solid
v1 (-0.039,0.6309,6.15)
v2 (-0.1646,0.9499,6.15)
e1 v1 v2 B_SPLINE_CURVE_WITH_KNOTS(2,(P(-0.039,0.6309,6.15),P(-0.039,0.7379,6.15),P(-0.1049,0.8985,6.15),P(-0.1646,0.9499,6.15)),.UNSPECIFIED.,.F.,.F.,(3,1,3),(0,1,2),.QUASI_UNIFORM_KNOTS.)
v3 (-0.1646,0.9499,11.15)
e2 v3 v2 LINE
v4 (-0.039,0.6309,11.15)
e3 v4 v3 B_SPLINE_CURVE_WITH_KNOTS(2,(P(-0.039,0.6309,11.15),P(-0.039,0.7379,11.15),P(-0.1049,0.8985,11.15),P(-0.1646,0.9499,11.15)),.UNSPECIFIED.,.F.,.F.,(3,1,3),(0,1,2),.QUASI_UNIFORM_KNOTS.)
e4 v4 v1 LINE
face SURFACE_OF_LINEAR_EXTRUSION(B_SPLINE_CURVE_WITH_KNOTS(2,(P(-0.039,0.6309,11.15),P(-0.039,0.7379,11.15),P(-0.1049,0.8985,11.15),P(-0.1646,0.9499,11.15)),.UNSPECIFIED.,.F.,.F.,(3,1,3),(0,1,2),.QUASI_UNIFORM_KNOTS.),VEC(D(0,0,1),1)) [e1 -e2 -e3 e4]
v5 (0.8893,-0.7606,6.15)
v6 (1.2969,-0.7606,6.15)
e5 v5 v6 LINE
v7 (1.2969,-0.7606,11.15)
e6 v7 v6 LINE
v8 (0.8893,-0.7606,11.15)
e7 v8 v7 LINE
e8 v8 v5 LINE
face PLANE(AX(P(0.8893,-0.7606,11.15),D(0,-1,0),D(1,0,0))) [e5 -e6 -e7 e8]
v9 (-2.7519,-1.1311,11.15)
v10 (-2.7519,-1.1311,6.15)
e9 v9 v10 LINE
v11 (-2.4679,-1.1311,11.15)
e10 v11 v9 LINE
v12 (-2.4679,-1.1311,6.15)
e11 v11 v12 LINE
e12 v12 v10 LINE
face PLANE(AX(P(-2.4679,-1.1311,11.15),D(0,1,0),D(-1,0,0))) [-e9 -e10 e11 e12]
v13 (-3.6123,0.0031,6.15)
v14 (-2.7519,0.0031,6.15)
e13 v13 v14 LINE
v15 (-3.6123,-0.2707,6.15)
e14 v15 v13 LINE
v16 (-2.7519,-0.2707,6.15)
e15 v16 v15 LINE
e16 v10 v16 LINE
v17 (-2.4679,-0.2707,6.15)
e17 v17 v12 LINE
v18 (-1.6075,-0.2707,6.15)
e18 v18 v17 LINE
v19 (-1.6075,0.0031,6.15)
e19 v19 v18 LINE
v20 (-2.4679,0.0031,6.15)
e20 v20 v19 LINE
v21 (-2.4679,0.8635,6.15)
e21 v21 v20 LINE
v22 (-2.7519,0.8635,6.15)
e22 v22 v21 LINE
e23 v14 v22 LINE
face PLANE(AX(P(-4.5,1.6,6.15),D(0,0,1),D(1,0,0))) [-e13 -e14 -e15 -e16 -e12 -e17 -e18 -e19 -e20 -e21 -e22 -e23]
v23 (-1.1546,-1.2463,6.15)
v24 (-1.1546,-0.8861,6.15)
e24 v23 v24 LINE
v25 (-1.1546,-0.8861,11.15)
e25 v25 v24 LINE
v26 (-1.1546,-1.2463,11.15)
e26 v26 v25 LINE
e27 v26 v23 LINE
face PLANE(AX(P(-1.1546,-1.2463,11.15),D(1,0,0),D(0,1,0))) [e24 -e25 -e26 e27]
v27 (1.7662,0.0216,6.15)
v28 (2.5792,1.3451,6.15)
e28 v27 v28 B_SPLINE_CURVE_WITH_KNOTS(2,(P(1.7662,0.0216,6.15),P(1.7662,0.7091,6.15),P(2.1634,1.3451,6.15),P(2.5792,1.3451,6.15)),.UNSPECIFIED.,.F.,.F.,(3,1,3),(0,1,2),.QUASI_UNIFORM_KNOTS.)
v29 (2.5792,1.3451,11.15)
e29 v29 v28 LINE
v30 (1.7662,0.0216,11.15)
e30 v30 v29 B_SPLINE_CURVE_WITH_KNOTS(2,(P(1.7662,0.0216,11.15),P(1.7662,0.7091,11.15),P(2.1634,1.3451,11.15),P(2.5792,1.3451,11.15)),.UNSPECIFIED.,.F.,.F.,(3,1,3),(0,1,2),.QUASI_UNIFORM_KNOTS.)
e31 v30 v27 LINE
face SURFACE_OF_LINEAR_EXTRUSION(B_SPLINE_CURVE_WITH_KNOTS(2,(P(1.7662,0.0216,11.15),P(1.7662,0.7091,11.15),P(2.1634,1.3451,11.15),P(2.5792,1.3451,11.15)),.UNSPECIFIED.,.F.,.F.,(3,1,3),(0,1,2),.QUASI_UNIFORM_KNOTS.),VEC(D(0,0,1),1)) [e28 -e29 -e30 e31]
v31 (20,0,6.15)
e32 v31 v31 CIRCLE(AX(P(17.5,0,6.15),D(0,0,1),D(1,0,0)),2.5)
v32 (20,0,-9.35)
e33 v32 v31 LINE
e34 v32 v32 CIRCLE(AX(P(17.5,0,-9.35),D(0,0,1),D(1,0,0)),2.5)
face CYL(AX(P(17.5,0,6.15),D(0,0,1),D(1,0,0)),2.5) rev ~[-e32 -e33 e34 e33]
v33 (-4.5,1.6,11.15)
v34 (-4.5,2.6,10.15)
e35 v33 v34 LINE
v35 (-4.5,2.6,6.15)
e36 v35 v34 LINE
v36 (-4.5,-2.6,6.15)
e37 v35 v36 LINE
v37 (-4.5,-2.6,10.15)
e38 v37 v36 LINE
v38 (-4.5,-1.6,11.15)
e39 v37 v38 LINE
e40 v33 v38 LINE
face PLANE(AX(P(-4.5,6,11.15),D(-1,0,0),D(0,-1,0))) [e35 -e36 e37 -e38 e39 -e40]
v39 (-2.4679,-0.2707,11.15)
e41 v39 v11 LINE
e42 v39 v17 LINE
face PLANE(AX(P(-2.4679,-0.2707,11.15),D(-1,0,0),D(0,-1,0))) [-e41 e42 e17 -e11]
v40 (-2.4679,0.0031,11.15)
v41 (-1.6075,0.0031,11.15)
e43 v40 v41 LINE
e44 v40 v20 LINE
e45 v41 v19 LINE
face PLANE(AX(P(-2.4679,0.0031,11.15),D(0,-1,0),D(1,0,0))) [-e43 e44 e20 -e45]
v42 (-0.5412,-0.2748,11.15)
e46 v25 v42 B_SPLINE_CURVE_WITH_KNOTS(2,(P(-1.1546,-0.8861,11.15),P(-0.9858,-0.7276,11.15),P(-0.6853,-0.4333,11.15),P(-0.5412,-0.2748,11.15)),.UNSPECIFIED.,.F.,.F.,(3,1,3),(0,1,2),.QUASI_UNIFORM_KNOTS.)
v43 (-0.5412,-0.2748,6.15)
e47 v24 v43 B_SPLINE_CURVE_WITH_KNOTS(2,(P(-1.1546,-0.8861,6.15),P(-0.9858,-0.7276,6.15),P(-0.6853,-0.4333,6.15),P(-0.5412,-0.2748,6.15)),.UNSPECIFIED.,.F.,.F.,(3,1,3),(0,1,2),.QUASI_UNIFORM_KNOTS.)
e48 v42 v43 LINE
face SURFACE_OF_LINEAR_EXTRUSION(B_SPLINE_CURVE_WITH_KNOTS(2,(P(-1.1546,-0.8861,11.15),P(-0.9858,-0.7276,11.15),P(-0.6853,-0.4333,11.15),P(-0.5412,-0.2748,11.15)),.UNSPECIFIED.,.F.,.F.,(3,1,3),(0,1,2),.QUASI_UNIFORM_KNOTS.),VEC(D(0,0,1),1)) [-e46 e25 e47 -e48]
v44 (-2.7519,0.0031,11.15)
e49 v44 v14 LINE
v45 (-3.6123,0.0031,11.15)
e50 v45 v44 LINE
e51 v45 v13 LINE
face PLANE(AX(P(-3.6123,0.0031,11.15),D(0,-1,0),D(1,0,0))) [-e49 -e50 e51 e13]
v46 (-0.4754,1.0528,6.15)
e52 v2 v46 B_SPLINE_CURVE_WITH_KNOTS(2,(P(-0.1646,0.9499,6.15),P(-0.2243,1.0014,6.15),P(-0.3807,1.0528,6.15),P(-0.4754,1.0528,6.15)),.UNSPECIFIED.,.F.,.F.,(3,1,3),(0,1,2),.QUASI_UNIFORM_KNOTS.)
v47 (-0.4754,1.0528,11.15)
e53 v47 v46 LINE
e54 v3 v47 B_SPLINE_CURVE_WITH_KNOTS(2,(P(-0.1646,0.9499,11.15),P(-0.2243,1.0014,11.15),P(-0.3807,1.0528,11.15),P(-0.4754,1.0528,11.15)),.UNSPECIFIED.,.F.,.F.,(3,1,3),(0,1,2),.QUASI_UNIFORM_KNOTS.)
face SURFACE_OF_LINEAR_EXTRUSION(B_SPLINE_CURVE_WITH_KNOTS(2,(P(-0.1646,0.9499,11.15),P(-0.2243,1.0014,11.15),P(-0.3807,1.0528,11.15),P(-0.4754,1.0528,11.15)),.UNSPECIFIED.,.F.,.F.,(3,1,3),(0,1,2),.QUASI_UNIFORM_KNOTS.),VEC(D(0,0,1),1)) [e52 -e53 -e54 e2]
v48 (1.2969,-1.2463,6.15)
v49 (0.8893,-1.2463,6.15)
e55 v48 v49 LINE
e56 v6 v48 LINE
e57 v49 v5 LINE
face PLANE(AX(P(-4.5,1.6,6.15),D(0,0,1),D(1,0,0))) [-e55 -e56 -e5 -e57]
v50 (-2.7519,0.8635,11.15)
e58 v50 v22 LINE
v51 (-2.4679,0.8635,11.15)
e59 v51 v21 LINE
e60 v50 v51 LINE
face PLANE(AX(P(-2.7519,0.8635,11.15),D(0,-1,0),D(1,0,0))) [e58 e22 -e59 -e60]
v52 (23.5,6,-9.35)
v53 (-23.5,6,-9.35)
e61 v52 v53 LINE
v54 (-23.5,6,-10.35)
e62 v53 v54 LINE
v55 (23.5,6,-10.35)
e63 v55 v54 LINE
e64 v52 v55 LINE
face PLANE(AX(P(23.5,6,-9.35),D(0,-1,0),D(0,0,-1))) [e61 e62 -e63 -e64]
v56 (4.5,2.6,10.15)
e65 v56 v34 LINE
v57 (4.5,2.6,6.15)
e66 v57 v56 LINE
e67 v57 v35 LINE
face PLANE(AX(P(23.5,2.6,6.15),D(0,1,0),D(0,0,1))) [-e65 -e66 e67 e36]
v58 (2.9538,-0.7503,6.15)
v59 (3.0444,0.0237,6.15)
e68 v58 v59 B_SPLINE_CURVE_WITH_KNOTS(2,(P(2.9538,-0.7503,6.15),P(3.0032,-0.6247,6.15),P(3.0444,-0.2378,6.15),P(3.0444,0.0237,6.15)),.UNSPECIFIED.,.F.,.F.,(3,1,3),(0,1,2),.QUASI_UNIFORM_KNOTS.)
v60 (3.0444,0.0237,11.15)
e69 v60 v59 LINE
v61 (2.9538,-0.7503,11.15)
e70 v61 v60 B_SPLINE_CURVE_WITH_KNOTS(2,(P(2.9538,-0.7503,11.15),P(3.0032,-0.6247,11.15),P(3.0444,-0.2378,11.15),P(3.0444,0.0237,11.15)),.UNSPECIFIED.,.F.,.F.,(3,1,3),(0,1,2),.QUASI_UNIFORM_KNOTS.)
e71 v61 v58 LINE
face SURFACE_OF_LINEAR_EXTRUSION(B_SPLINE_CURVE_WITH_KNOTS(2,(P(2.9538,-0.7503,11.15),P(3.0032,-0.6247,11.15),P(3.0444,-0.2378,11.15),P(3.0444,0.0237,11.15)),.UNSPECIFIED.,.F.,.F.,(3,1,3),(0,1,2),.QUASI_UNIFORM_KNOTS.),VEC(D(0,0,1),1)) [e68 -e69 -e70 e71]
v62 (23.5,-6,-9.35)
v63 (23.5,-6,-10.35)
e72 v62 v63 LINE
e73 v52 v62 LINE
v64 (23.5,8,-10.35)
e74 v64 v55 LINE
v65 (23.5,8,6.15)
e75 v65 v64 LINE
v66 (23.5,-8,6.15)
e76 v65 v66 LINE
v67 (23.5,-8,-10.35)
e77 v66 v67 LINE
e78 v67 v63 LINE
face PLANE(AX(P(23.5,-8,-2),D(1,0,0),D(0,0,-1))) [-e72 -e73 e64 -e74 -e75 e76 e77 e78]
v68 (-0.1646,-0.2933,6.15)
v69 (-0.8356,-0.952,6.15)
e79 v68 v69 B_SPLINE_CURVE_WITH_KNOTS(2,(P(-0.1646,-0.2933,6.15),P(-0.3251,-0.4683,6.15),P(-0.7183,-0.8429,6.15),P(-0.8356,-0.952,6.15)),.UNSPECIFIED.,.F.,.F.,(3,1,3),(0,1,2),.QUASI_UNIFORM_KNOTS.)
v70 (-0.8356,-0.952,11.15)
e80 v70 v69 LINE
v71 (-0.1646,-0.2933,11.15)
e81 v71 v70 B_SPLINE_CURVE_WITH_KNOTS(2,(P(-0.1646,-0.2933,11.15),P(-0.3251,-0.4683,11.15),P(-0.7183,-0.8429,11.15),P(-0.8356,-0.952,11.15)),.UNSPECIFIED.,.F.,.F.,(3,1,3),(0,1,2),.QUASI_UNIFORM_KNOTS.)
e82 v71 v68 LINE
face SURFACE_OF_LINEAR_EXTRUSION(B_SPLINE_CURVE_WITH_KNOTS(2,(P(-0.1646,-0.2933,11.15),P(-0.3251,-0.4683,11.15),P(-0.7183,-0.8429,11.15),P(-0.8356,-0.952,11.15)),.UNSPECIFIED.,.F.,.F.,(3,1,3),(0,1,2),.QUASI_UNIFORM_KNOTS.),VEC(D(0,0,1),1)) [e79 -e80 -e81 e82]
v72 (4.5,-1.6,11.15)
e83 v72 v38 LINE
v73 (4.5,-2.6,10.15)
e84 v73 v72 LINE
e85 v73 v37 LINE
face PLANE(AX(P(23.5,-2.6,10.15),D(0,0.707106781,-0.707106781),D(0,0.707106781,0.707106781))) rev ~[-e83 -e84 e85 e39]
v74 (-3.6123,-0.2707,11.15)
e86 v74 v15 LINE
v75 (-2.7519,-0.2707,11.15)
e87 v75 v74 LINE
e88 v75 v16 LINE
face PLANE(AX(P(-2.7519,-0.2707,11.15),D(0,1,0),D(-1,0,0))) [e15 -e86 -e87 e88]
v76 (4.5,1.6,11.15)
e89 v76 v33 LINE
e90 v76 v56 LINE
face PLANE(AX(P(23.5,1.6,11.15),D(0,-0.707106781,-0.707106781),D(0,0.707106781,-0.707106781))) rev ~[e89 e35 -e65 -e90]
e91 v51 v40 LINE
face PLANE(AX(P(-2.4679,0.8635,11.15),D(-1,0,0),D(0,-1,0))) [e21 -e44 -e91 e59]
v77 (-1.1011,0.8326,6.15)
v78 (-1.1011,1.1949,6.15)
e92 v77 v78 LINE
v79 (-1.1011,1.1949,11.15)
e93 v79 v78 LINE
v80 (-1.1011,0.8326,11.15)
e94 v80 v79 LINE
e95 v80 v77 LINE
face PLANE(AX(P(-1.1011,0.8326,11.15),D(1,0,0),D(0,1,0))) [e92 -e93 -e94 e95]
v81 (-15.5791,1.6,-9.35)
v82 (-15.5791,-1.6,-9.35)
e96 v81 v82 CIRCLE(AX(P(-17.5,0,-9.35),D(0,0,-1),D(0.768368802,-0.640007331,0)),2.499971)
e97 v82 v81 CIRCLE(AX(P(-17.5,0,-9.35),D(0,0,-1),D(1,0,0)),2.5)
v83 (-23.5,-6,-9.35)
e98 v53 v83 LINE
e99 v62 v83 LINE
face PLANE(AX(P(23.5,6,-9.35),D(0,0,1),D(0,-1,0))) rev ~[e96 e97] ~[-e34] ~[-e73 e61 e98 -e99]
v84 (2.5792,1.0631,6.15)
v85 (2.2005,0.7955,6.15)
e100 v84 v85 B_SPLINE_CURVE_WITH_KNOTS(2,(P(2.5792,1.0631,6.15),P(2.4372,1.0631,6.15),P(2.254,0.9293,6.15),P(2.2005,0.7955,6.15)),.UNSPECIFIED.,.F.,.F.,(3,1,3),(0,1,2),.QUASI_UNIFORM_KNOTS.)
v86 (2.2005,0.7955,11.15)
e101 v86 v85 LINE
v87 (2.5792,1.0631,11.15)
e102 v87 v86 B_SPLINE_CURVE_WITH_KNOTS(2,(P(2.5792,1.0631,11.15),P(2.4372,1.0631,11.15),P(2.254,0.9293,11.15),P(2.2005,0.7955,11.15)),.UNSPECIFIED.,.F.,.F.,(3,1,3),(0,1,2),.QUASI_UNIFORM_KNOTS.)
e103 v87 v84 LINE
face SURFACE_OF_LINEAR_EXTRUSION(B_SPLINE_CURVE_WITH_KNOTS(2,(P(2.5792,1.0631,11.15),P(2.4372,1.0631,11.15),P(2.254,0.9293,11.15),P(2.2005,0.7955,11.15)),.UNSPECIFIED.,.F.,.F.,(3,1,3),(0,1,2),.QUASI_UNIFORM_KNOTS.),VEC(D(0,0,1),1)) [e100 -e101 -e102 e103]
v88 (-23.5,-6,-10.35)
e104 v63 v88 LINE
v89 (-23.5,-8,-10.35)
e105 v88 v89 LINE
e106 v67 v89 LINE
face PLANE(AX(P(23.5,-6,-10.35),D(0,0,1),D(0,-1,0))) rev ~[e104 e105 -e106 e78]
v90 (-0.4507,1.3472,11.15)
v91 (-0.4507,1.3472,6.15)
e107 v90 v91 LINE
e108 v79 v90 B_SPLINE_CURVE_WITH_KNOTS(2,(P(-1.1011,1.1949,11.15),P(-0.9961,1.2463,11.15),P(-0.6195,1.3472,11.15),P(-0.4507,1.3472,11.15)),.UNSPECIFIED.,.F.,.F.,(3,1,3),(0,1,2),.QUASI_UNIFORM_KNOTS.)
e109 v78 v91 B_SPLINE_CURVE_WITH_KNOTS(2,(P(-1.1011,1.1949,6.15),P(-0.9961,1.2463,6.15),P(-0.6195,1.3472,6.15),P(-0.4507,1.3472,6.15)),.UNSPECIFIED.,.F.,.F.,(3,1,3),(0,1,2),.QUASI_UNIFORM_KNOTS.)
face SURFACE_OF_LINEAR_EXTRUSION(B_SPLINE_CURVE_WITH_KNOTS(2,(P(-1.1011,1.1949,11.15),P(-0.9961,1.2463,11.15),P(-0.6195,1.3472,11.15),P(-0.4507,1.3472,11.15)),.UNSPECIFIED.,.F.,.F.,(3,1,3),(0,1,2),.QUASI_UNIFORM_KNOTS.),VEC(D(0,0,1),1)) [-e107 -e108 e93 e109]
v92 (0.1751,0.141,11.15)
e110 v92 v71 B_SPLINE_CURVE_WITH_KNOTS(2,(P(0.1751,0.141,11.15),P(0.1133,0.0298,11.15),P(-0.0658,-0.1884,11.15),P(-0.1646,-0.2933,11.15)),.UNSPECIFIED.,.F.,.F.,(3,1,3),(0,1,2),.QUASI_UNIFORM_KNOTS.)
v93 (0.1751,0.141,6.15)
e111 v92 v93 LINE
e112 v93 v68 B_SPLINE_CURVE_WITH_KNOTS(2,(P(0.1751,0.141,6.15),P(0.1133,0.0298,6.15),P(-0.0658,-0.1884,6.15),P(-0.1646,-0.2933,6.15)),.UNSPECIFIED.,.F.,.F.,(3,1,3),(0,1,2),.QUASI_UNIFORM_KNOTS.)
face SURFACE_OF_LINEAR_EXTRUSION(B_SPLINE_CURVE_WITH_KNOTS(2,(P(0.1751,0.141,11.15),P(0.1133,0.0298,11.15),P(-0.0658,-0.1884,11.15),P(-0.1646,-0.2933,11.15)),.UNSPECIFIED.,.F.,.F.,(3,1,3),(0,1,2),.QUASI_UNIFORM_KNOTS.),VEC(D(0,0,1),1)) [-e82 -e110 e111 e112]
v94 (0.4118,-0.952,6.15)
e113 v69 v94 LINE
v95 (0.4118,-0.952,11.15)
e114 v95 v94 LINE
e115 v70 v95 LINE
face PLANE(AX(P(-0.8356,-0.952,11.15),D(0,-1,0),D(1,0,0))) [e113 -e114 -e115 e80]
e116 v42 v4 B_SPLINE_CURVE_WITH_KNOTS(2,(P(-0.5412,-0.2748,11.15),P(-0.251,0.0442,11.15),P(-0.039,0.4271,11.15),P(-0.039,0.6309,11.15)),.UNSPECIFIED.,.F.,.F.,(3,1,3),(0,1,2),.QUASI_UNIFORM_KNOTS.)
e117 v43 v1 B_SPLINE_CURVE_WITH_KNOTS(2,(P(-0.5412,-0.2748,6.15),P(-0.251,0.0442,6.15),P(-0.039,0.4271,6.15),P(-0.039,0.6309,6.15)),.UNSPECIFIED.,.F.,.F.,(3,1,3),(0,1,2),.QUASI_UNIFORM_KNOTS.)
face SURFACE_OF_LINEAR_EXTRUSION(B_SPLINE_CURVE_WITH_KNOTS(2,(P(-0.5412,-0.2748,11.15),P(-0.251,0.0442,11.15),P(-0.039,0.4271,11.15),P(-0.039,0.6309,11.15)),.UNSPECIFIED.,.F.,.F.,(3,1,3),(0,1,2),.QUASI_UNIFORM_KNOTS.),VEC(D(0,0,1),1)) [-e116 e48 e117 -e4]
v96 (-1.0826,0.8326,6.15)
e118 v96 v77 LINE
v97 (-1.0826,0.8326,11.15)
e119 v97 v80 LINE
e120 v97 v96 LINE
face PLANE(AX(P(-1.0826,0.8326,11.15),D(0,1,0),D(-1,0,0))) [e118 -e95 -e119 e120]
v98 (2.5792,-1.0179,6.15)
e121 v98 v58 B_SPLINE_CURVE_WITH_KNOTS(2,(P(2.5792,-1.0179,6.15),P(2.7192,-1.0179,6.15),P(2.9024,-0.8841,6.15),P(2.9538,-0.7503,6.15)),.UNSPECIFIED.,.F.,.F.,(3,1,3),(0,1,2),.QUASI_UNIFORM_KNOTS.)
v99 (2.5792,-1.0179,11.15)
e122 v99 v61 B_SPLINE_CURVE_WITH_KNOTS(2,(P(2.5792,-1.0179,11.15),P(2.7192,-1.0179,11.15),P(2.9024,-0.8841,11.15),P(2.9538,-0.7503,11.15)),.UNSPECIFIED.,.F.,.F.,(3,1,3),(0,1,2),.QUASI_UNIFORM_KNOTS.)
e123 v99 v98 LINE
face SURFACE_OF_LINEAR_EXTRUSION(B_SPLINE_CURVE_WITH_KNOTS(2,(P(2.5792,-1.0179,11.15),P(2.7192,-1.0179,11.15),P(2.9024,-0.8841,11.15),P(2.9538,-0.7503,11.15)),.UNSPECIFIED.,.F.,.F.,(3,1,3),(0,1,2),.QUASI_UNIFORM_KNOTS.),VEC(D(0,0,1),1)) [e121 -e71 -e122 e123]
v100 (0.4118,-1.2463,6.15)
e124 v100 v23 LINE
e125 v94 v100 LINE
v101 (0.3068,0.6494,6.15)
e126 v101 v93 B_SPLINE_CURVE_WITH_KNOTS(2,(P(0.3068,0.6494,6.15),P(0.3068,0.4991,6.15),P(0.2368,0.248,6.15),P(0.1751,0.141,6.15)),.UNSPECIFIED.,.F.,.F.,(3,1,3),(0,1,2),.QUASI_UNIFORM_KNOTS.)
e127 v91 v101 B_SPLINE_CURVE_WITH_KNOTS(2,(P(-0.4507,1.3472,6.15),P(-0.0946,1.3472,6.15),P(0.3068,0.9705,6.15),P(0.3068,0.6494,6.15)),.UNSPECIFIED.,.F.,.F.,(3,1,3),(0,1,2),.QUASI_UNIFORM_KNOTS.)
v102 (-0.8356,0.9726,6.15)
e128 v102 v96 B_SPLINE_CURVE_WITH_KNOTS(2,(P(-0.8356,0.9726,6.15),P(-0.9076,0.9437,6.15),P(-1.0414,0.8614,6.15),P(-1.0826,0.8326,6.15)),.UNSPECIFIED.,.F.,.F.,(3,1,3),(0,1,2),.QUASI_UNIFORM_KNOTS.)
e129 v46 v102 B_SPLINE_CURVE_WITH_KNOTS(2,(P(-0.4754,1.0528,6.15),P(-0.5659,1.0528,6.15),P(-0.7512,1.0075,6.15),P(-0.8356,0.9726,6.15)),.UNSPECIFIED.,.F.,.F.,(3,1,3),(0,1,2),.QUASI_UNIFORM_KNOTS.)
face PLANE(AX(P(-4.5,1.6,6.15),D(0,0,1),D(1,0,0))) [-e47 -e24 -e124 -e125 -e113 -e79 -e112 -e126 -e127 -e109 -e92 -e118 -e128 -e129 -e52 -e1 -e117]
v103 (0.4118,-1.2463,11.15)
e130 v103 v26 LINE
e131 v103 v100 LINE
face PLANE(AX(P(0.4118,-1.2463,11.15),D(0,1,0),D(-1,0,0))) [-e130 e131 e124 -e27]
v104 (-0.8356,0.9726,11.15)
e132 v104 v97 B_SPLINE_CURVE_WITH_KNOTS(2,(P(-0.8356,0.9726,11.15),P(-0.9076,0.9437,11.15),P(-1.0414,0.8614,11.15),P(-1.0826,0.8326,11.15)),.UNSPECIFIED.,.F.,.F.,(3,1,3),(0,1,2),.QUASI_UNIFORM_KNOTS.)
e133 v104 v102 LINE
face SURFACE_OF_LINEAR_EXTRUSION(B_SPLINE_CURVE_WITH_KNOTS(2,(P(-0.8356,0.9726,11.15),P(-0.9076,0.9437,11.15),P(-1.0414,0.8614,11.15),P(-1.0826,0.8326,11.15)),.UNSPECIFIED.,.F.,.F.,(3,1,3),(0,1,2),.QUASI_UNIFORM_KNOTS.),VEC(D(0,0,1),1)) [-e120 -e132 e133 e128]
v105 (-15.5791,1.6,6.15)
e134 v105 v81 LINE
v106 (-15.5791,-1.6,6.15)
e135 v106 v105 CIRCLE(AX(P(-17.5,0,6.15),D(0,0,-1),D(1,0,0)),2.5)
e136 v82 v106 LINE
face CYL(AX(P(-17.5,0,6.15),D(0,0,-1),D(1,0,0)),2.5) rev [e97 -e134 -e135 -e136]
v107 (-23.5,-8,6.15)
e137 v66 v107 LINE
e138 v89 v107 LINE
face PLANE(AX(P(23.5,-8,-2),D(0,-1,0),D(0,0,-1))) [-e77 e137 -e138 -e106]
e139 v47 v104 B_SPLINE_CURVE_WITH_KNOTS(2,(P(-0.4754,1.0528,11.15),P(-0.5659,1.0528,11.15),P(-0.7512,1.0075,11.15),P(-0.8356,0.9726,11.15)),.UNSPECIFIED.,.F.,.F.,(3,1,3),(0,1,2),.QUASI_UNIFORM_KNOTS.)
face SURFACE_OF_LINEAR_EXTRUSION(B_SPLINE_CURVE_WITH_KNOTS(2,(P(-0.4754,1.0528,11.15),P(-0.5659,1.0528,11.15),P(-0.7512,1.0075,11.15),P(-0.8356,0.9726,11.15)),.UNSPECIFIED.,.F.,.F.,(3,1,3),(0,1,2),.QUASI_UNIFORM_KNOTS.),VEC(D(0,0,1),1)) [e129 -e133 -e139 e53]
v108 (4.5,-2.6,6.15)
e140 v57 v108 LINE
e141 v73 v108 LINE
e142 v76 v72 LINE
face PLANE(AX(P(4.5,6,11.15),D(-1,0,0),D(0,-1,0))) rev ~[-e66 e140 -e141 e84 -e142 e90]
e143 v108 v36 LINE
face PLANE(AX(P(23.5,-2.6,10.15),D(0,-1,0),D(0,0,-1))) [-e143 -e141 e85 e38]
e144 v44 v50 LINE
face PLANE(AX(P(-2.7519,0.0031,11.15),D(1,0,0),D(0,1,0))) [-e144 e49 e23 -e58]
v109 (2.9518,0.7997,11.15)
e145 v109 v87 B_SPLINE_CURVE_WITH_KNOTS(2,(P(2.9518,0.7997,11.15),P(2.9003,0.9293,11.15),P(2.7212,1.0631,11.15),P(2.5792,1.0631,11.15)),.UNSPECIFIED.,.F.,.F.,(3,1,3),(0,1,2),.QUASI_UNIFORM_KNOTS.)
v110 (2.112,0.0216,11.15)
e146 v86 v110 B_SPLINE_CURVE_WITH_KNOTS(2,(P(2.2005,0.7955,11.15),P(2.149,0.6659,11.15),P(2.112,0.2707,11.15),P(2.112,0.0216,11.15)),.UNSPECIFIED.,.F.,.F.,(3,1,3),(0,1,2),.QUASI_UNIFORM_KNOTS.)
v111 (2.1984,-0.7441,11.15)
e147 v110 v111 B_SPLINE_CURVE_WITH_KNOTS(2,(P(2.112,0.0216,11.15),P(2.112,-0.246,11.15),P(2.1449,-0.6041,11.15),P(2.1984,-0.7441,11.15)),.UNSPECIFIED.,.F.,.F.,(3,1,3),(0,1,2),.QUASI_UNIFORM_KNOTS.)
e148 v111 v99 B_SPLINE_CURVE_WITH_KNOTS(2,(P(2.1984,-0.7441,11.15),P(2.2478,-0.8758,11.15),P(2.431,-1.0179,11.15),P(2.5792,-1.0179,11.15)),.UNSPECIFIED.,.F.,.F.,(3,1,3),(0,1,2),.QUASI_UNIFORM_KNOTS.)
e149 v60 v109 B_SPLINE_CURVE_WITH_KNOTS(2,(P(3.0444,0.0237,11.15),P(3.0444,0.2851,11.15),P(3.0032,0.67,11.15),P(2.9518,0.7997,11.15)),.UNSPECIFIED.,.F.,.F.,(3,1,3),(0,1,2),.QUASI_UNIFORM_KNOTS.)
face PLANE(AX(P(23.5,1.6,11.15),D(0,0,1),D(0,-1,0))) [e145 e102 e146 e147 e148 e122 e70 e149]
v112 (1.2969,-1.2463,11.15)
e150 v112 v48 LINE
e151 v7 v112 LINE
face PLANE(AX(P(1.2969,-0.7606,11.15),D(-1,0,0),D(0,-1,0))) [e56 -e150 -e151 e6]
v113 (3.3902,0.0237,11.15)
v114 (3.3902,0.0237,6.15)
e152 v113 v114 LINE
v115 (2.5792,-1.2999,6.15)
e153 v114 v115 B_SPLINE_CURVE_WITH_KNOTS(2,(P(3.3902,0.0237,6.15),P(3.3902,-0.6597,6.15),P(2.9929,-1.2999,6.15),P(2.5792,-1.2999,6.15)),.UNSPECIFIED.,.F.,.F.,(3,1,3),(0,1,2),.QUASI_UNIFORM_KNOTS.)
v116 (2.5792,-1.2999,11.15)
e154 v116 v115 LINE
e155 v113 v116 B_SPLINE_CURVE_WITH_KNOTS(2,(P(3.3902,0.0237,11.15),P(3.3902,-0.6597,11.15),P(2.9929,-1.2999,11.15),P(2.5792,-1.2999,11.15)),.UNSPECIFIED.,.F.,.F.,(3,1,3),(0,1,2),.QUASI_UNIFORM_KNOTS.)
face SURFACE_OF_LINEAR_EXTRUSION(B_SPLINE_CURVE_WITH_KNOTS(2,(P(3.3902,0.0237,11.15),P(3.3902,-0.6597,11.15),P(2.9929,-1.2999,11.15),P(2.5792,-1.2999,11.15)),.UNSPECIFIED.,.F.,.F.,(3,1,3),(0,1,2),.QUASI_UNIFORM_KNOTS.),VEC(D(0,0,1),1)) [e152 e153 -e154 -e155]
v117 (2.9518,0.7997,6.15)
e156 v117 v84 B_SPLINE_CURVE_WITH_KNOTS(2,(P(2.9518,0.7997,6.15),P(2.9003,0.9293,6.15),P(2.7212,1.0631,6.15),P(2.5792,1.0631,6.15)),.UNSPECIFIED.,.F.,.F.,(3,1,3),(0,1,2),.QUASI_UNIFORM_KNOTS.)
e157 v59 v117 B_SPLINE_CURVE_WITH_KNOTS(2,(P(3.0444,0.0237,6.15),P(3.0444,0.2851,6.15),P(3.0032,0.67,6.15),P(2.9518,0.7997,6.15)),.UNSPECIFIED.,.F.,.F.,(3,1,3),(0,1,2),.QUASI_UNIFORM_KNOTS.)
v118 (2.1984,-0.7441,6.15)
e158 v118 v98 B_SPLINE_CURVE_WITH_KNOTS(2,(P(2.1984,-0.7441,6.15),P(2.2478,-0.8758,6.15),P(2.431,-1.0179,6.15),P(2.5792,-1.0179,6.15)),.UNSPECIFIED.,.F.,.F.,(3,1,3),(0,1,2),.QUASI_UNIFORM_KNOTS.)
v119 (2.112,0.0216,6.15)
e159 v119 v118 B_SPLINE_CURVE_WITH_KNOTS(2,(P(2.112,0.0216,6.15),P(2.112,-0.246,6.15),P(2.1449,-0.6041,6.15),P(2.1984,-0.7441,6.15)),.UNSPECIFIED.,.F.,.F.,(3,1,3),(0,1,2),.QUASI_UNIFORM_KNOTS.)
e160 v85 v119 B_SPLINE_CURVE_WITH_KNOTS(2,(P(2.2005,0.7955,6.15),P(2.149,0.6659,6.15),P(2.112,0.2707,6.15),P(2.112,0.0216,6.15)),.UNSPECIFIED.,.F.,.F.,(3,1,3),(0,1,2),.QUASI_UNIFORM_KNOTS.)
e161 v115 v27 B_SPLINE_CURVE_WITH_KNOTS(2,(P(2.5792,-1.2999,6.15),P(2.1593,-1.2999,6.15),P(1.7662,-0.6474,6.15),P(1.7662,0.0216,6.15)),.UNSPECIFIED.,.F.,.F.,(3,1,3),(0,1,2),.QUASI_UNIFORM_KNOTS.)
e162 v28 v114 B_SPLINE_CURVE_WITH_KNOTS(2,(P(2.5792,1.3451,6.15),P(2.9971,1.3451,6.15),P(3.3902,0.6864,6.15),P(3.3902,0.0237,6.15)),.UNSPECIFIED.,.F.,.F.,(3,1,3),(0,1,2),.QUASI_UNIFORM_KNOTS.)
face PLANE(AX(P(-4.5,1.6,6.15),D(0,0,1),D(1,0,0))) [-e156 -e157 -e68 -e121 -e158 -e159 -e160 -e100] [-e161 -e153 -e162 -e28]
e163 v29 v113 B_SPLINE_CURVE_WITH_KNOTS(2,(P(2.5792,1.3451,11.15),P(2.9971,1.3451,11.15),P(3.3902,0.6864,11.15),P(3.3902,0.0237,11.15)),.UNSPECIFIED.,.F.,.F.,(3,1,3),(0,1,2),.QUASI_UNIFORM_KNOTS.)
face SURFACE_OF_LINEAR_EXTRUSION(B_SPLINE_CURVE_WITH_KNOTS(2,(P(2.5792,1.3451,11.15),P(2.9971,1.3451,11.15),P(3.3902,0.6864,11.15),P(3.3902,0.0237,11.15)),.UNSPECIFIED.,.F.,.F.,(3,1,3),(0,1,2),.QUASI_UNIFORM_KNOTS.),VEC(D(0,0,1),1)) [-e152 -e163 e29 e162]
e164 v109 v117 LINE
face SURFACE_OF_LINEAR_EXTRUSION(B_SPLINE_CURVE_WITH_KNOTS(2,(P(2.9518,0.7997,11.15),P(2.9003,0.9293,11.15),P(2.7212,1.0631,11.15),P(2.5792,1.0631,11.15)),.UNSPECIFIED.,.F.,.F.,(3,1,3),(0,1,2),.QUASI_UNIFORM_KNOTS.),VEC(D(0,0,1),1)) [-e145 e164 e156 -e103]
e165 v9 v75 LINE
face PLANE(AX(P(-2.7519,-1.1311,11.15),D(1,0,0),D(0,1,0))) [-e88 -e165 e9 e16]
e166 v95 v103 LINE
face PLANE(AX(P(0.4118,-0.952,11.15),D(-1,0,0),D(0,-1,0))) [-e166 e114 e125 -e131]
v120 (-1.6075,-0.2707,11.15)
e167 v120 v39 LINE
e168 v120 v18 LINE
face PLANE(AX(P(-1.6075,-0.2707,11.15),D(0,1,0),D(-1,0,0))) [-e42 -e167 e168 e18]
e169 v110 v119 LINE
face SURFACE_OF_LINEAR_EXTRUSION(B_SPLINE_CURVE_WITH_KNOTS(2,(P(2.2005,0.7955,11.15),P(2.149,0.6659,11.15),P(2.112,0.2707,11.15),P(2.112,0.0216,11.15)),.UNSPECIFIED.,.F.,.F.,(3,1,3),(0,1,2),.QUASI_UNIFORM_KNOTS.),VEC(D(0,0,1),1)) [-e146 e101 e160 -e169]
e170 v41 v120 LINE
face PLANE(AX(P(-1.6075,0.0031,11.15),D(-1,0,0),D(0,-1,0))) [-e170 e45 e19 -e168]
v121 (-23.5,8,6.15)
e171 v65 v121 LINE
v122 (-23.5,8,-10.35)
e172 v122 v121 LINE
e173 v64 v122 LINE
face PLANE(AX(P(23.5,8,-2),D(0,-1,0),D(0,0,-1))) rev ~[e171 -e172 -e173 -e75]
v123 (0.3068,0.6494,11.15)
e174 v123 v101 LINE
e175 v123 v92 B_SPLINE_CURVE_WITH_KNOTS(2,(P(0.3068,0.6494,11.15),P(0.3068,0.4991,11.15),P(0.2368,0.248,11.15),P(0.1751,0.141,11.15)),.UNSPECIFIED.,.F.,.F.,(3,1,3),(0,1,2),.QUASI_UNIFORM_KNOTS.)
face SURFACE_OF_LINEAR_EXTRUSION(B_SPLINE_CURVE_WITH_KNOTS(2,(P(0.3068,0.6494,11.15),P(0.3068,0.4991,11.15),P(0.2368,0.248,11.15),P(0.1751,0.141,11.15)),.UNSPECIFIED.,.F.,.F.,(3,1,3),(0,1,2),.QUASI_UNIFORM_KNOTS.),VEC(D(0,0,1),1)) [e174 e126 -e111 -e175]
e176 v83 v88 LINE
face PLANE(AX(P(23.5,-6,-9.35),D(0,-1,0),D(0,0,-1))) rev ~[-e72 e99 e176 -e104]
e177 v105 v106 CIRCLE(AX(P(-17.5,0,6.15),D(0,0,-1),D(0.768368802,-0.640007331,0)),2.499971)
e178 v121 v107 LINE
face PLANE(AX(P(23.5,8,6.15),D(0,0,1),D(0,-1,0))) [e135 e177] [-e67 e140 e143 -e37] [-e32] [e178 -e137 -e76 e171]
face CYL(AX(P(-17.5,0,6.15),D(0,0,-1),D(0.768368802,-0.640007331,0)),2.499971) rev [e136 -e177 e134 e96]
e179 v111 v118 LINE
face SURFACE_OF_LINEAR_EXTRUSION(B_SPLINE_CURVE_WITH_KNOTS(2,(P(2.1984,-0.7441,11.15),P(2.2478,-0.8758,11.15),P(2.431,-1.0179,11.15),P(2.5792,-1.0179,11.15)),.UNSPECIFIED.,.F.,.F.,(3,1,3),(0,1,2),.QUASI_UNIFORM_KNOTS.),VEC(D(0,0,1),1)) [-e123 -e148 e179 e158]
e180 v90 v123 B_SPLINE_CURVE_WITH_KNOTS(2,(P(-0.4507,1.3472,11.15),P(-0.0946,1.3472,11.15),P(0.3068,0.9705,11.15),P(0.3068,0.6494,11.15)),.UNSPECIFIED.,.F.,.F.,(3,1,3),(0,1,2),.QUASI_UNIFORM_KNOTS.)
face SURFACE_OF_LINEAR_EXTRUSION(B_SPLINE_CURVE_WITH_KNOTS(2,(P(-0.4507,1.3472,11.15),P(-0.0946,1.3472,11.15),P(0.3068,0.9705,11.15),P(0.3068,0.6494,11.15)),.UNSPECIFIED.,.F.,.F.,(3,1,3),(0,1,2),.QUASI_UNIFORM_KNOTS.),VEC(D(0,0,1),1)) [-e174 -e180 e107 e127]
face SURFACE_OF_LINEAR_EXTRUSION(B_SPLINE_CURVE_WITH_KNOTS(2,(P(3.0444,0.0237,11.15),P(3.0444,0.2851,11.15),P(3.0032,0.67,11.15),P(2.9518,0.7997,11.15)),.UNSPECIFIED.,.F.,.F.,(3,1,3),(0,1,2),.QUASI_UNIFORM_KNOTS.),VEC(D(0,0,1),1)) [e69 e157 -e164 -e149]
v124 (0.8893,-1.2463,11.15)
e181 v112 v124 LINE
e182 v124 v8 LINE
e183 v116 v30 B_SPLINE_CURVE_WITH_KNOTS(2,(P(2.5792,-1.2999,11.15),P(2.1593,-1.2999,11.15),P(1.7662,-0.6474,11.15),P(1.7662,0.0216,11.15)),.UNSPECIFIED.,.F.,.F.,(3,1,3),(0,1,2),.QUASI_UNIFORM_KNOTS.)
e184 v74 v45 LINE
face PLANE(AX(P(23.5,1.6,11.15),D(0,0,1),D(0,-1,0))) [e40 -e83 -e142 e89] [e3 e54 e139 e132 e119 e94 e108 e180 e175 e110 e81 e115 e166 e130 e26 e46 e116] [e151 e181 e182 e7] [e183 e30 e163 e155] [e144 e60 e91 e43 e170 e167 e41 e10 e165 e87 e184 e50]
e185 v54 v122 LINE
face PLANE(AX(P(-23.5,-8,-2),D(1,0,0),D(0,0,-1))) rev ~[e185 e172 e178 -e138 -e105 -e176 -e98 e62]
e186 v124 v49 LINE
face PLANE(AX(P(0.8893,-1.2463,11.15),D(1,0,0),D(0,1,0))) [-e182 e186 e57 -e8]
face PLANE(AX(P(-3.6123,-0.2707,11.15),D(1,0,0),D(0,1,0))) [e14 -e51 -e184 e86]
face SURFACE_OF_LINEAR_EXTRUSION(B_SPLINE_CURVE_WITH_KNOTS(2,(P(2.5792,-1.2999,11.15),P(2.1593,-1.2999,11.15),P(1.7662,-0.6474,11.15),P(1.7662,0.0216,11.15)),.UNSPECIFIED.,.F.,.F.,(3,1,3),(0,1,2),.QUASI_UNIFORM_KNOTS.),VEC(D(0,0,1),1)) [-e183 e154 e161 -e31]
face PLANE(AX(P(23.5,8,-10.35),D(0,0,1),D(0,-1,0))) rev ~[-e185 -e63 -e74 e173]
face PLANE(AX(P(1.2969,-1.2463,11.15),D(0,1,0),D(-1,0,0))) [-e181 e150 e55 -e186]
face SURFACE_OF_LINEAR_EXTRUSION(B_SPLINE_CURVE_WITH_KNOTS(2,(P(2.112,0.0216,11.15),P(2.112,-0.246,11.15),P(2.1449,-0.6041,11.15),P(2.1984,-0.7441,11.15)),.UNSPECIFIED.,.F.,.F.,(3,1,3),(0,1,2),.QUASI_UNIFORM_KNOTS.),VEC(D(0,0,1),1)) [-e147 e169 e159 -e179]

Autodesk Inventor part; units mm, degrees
ref_plane "YZ Plane" through (0, 0, 0) normal (1, 0, 0) x (0, 1, 0)
ref_plane "XZ Plane" through (0, 0, 0) normal (0, 1, 0) x (-1, 0, 0)
ref_plane "XY Plane" through (0, 0, 0) normal (0, 0, 1) x (1, 0, 0)
ref_plane "작업 평면1" through (23.5, -8, -2) normal (1, 0, 0) x (0, 0, -1)
sketch "스케치1" plane through (23.5, -8, -2) normal (1, 0, 0) x (0, 0, -1)
  line L0 (0, 16) -> (-8.15, 16) projected
  line L1 (-8.15, 16) -> (-8.15, 10.6) projected
  line L2 (-8.15, 10.6) -> (-12.15, 10.6) projected
  line L3 (-13.15, 9.6) -> (-12.15, 10.6) projected
  line L4 (-13.15, 9.6) -> (-13.15, 6.4) projected
  line L5 (-12.15, 5.4) -> (-13.15, 6.4) projected
  line L6 (-12.15, 5.4) -> (-8.15, 5.4) projected
  line L7 (-8.15, 5.4) -> (-8.15, 0) projected
  line L8 (-8.15, 0) -> (0, 0) projected
  line L9 (0, 16) -> (8.35, 16)
  line L10 (8.35, 16) -> (8.35, 15)
  line L11 (0, 0) -> (8.35, 0)
  line L12 (8.35, 0) -> (8.35, 1)
  line L13 (0, 16) -> (-8.15, 16)
  line L14 (-8.15, 10.6) -> (-12.15, 10.6) projected
  line L15 (-8.15, 10.6) -> (-12.15, 10.6)
  line L16 (-12.15, 10.6) -> (-13.15, 9.6)
  line L17 (-13.15, 6.4) -> (-12.15, 5.4)
  line L18 (7.35, 14) -> (8.35, 14)
  line L19 (8.35, 14) -> (8.35, 15)
  line L20 (7.35, 2) -> (8.35, 2)
  line L21 (8.35, 2) -> (8.35, 1)
  line L22 (7.35, 14) -> (7.35, 2)
  point P0 (-2, 8)
  point P1 (4.35, 10.6)
  point P2 (4.35, 5.4)
  dimension "d1" = 8.35
  dimension "d13" = 8.35
sketch "스케치2" plane through (-23.5, 8, 6.15) normal (0, 0, 1) x (1, 0, 0)
  arc A0 (7.9209, -9.6) -> (7.9209, -6.4) centre (6, -8) ccw projected
  line L0 (39.0791, -9.6) -> (7.9209, -9.6) projected
  circle A1 centre (6, -8) radius 2.5
  circle A2 centre (41, -8) radius 2.5 projected
  circle A3 centre (41, -8) radius 2.5
  point P0 (23.5, -8)
  point P1 (7.9209, -6.4)
extrude "돌출1" add sketch "스케치1" against normal up to surface (47 mm away)
extrude "돌출2" cut sketch "스케치2" along normal mid plane 50
sketch "스케치3" plane through (-15.5791, 1.6, 11.15) normal (0, 0, 1) x (1, 0, 0)
  line L0 (15.5791, -14.4593) -> (15.5791, 15.5737)
  line L1 (-7.9209, 4.4) -> (-7.9209, -7.6) projected
  line L2 (-7.9209, 4.4) -> (11.0791, 4.4)
  line L3 (11.0791, 4.4) -> (11.0791, -7.6)
  line L4 (11.0791, -7.6) -> (-7.9209, -7.6)
  line L5 (-7.9209, -7.6) -> (-7.9209, 4.4)
  line L6 (39.0791, 4.4) -> (39.0791, -7.6)
  line L7 (39.0791, 4.4) -> (20.0791, 4.4)
  line L8 (20.0791, 4.4) -> (20.0791, -7.6)
  line L9 (20.0791, -7.6) -> (39.0791, -7.6)
  line L10 (39.0791, -7.6) -> (39.0791, 4.4)
  point P0 (15.5791, -1.6)
  dimension "d9" = 19
extrude "돌출3" cut sketch "스케치3" against normal up to surface (5 mm away)
sketch "스케치4" plane through (-4.5, 1.6, 11.15) normal (0, 0, 1) x (1, 0, 0)
  line L0 (0.6181, -0.2528) -> (7.2489, -0.2528) construction
  line L1 (7.2489, -0.2528) -> (7.2489, -2.6222) construction
  line L2 (7.2489, -2.6222) -> (0.6181, -2.6222) construction
  line L3 (0.6181, -2.6222) -> (0.6181, -0.2528) construction
  line L4 (2.8925, -1.8707) -> (2.0321, -1.8707)
  line L5 (2.0321, -1.8707) -> (2.0321, -2.7311)
  line L6 (2.0321, -2.7311) -> (1.7481, -2.7311)
  line L7 (1.7481, -2.7311) -> (1.7481, -1.8707)
  line L8 (1.7481, -1.8707) -> (0.8877, -1.8707)
  line L9 (0.8877, -1.8707) -> (0.8877, -1.5969)
  line L10 (0.8877, -1.5969) -> (1.7481, -1.5969)
  line L11 (1.7481, -1.5969) -> (1.7481, -0.7365)
  line L12 (1.7481, -0.7365) -> (2.0321, -0.7365)
  line L13 (2.0321, -0.7365) -> (2.0321, -1.5969)
  line L14 (2.0321, -1.5969) -> (2.8925, -1.5969)
  line L15 (2.8925, -1.5969) -> (2.8925, -1.8707)
  line L16 (4.9118, -2.8463) -> (3.3454, -2.8463)
  line L17 (3.3454, -2.8463) -> (3.3454, -2.4861)
  spline S0 degree 2 poles (3.3454, -2.4861) (3.5142, -2.3276) (3.8147, -2.0333) (3.9588, -1.8748) knots 0 0 0 1 2 2 2
  spline S1 degree 2 poles (3.9588, -1.8748) (4.249, -1.5558) (4.461, -1.1729) (4.461, -0.9691) knots 0 0 0 1 2 2 2
  spline S2 degree 2 poles (4.461, -0.9691) (4.461, -0.8621) (4.3951, -0.7015) (4.3354, -0.6501) knots 0 0 0 1 2 2 2
  spline S3 degree 2 poles (4.3354, -0.6501) (4.2757, -0.5986) (4.1193, -0.5472) (4.0246, -0.5472) knots 0 0 0 1 2 2 2
  spline S4 degree 2 poles (4.0246, -0.5472) (3.9341, -0.5472) (3.7488, -0.5925) (3.6644, -0.6274) knots 0 0 0 1 2 2 2
  spline S5 degree 2 poles (3.6644, -0.6274) (3.5924, -0.6563) (3.4586, -0.7386) (3.4174, -0.7674) knots 0 0 0 1 2 2 2
  line L18 (3.4174, -0.7674) -> (3.3989, -0.7674)
  line L19 (3.3989, -0.7674) -> (3.3989, -0.4051)
  spline S6 degree 2 poles (3.3989, -0.4051) (3.5039, -0.3537) (3.8805, -0.2528) (4.0493, -0.2528) knots 0 0 0 1 2 2 2
  spline S7 degree 2 poles (4.0493, -0.2528) (4.4054, -0.2528) (4.8068, -0.6295) (4.8068, -0.9506) knots 0 0 0 1 2 2 2
  spline S8 degree 2 poles (4.8068, -0.9506) (4.8068, -1.1009) (4.7368, -1.352) (4.6751, -1.459) knots 0 0 0 1 2 2 2
  spline S9 degree 2 poles (4.6751, -1.459) (4.6133, -1.5702) (4.4342, -1.7884) (4.3354, -1.8933) knots 0 0 0 1 2 2 2
  spline S10 degree 2 poles (4.3354, -1.8933) (4.1749, -2.0683) (3.7817, -2.4429) (3.6644, -2.552) knots 0 0 0 1 2 2 2
  line L20 (3.6644, -2.552) -> (4.9118, -2.552)
  line L21 (4.9118, -2.552) -> (4.9118, -2.8463)
  line L22 (5.7969, -2.8463) -> (5.3893, -2.8463)
  line L23 (5.3893, -2.8463) -> (5.3893, -2.3606)
  line L24 (5.3893, -2.3606) -> (5.7969, -2.3606)
  line L25 (5.7969, -2.3606) -> (5.7969, -2.8463)
  spline S11 degree 2 poles (7.8902, -1.5763) (7.8902, -2.2597) (7.4929, -2.8999) (7.0792, -2.8999) knots 0 0 0 1 2 2 2
  spline S12 degree 2 poles (7.0792, -2.8999) (6.6593, -2.8999) (6.2662, -2.2474) (6.2662, -1.5784) knots 0 0 0 1 2 2 2
  spline S13 degree 2 poles (6.2662, -1.5784) (6.2662, -0.8909) (6.6634, -0.2549) (7.0792, -0.2549) knots 0 0 0 1 2 2 2
  spline S14 degree 2 poles (7.0792, -0.2549) (7.4971, -0.2549) (7.8902, -0.9136) (7.8902, -1.5763) knots 0 0 0 1 2 2 2
  spline S15 degree 2 poles (7.4538, -2.3503) (7.5032, -2.2247) (7.5444, -1.8378) (7.5444, -1.5763) knots 0 0 0 1 2 2 2
  spline S16 degree 2 poles (7.5444, -1.5763) (7.5444, -1.3149) (7.5032, -0.93) (7.4518, -0.8003) knots 0 0 0 1 2 2 2
  spline S17 degree 2 poles (7.4518, -0.8003) (7.4003, -0.6707) (7.2212, -0.5369) (7.0792, -0.5369) knots 0 0 0 1 2 2 2
  spline S18 degree 2 poles (7.0792, -0.5369) (6.9372, -0.5369) (6.754, -0.6707) (6.7005, -0.8045) knots 0 0 0 1 2 2 2
  spline S19 degree 2 poles (6.7005, -0.8045) (6.649, -0.9341) (6.612, -1.3293) (6.612, -1.5784) knots 0 0 0 1 2 2 2
  spline S20 degree 2 poles (6.612, -1.5784) (6.612, -1.846) (6.6449, -2.2041) (6.6984, -2.3441) knots 0 0 0 1 2 2 2
  spline S21 degree 2 poles (6.6984, -2.3441) (6.7478, -2.4758) (6.931, -2.6179) (7.0792, -2.6179) knots 0 0 0 1 2 2 2
  spline S22 degree 2 poles (7.0792, -2.6179) (7.2192, -2.6179) (7.4024, -2.4841) (7.4538, -2.3503) knots 0 0 0 1 2 2 2
  point P0 (4.5, -1.6)
extrude "돌출4" cut sketch "스케치4" against normal blind 5
properties part number "Bearing Spacer_V2_2mm"
